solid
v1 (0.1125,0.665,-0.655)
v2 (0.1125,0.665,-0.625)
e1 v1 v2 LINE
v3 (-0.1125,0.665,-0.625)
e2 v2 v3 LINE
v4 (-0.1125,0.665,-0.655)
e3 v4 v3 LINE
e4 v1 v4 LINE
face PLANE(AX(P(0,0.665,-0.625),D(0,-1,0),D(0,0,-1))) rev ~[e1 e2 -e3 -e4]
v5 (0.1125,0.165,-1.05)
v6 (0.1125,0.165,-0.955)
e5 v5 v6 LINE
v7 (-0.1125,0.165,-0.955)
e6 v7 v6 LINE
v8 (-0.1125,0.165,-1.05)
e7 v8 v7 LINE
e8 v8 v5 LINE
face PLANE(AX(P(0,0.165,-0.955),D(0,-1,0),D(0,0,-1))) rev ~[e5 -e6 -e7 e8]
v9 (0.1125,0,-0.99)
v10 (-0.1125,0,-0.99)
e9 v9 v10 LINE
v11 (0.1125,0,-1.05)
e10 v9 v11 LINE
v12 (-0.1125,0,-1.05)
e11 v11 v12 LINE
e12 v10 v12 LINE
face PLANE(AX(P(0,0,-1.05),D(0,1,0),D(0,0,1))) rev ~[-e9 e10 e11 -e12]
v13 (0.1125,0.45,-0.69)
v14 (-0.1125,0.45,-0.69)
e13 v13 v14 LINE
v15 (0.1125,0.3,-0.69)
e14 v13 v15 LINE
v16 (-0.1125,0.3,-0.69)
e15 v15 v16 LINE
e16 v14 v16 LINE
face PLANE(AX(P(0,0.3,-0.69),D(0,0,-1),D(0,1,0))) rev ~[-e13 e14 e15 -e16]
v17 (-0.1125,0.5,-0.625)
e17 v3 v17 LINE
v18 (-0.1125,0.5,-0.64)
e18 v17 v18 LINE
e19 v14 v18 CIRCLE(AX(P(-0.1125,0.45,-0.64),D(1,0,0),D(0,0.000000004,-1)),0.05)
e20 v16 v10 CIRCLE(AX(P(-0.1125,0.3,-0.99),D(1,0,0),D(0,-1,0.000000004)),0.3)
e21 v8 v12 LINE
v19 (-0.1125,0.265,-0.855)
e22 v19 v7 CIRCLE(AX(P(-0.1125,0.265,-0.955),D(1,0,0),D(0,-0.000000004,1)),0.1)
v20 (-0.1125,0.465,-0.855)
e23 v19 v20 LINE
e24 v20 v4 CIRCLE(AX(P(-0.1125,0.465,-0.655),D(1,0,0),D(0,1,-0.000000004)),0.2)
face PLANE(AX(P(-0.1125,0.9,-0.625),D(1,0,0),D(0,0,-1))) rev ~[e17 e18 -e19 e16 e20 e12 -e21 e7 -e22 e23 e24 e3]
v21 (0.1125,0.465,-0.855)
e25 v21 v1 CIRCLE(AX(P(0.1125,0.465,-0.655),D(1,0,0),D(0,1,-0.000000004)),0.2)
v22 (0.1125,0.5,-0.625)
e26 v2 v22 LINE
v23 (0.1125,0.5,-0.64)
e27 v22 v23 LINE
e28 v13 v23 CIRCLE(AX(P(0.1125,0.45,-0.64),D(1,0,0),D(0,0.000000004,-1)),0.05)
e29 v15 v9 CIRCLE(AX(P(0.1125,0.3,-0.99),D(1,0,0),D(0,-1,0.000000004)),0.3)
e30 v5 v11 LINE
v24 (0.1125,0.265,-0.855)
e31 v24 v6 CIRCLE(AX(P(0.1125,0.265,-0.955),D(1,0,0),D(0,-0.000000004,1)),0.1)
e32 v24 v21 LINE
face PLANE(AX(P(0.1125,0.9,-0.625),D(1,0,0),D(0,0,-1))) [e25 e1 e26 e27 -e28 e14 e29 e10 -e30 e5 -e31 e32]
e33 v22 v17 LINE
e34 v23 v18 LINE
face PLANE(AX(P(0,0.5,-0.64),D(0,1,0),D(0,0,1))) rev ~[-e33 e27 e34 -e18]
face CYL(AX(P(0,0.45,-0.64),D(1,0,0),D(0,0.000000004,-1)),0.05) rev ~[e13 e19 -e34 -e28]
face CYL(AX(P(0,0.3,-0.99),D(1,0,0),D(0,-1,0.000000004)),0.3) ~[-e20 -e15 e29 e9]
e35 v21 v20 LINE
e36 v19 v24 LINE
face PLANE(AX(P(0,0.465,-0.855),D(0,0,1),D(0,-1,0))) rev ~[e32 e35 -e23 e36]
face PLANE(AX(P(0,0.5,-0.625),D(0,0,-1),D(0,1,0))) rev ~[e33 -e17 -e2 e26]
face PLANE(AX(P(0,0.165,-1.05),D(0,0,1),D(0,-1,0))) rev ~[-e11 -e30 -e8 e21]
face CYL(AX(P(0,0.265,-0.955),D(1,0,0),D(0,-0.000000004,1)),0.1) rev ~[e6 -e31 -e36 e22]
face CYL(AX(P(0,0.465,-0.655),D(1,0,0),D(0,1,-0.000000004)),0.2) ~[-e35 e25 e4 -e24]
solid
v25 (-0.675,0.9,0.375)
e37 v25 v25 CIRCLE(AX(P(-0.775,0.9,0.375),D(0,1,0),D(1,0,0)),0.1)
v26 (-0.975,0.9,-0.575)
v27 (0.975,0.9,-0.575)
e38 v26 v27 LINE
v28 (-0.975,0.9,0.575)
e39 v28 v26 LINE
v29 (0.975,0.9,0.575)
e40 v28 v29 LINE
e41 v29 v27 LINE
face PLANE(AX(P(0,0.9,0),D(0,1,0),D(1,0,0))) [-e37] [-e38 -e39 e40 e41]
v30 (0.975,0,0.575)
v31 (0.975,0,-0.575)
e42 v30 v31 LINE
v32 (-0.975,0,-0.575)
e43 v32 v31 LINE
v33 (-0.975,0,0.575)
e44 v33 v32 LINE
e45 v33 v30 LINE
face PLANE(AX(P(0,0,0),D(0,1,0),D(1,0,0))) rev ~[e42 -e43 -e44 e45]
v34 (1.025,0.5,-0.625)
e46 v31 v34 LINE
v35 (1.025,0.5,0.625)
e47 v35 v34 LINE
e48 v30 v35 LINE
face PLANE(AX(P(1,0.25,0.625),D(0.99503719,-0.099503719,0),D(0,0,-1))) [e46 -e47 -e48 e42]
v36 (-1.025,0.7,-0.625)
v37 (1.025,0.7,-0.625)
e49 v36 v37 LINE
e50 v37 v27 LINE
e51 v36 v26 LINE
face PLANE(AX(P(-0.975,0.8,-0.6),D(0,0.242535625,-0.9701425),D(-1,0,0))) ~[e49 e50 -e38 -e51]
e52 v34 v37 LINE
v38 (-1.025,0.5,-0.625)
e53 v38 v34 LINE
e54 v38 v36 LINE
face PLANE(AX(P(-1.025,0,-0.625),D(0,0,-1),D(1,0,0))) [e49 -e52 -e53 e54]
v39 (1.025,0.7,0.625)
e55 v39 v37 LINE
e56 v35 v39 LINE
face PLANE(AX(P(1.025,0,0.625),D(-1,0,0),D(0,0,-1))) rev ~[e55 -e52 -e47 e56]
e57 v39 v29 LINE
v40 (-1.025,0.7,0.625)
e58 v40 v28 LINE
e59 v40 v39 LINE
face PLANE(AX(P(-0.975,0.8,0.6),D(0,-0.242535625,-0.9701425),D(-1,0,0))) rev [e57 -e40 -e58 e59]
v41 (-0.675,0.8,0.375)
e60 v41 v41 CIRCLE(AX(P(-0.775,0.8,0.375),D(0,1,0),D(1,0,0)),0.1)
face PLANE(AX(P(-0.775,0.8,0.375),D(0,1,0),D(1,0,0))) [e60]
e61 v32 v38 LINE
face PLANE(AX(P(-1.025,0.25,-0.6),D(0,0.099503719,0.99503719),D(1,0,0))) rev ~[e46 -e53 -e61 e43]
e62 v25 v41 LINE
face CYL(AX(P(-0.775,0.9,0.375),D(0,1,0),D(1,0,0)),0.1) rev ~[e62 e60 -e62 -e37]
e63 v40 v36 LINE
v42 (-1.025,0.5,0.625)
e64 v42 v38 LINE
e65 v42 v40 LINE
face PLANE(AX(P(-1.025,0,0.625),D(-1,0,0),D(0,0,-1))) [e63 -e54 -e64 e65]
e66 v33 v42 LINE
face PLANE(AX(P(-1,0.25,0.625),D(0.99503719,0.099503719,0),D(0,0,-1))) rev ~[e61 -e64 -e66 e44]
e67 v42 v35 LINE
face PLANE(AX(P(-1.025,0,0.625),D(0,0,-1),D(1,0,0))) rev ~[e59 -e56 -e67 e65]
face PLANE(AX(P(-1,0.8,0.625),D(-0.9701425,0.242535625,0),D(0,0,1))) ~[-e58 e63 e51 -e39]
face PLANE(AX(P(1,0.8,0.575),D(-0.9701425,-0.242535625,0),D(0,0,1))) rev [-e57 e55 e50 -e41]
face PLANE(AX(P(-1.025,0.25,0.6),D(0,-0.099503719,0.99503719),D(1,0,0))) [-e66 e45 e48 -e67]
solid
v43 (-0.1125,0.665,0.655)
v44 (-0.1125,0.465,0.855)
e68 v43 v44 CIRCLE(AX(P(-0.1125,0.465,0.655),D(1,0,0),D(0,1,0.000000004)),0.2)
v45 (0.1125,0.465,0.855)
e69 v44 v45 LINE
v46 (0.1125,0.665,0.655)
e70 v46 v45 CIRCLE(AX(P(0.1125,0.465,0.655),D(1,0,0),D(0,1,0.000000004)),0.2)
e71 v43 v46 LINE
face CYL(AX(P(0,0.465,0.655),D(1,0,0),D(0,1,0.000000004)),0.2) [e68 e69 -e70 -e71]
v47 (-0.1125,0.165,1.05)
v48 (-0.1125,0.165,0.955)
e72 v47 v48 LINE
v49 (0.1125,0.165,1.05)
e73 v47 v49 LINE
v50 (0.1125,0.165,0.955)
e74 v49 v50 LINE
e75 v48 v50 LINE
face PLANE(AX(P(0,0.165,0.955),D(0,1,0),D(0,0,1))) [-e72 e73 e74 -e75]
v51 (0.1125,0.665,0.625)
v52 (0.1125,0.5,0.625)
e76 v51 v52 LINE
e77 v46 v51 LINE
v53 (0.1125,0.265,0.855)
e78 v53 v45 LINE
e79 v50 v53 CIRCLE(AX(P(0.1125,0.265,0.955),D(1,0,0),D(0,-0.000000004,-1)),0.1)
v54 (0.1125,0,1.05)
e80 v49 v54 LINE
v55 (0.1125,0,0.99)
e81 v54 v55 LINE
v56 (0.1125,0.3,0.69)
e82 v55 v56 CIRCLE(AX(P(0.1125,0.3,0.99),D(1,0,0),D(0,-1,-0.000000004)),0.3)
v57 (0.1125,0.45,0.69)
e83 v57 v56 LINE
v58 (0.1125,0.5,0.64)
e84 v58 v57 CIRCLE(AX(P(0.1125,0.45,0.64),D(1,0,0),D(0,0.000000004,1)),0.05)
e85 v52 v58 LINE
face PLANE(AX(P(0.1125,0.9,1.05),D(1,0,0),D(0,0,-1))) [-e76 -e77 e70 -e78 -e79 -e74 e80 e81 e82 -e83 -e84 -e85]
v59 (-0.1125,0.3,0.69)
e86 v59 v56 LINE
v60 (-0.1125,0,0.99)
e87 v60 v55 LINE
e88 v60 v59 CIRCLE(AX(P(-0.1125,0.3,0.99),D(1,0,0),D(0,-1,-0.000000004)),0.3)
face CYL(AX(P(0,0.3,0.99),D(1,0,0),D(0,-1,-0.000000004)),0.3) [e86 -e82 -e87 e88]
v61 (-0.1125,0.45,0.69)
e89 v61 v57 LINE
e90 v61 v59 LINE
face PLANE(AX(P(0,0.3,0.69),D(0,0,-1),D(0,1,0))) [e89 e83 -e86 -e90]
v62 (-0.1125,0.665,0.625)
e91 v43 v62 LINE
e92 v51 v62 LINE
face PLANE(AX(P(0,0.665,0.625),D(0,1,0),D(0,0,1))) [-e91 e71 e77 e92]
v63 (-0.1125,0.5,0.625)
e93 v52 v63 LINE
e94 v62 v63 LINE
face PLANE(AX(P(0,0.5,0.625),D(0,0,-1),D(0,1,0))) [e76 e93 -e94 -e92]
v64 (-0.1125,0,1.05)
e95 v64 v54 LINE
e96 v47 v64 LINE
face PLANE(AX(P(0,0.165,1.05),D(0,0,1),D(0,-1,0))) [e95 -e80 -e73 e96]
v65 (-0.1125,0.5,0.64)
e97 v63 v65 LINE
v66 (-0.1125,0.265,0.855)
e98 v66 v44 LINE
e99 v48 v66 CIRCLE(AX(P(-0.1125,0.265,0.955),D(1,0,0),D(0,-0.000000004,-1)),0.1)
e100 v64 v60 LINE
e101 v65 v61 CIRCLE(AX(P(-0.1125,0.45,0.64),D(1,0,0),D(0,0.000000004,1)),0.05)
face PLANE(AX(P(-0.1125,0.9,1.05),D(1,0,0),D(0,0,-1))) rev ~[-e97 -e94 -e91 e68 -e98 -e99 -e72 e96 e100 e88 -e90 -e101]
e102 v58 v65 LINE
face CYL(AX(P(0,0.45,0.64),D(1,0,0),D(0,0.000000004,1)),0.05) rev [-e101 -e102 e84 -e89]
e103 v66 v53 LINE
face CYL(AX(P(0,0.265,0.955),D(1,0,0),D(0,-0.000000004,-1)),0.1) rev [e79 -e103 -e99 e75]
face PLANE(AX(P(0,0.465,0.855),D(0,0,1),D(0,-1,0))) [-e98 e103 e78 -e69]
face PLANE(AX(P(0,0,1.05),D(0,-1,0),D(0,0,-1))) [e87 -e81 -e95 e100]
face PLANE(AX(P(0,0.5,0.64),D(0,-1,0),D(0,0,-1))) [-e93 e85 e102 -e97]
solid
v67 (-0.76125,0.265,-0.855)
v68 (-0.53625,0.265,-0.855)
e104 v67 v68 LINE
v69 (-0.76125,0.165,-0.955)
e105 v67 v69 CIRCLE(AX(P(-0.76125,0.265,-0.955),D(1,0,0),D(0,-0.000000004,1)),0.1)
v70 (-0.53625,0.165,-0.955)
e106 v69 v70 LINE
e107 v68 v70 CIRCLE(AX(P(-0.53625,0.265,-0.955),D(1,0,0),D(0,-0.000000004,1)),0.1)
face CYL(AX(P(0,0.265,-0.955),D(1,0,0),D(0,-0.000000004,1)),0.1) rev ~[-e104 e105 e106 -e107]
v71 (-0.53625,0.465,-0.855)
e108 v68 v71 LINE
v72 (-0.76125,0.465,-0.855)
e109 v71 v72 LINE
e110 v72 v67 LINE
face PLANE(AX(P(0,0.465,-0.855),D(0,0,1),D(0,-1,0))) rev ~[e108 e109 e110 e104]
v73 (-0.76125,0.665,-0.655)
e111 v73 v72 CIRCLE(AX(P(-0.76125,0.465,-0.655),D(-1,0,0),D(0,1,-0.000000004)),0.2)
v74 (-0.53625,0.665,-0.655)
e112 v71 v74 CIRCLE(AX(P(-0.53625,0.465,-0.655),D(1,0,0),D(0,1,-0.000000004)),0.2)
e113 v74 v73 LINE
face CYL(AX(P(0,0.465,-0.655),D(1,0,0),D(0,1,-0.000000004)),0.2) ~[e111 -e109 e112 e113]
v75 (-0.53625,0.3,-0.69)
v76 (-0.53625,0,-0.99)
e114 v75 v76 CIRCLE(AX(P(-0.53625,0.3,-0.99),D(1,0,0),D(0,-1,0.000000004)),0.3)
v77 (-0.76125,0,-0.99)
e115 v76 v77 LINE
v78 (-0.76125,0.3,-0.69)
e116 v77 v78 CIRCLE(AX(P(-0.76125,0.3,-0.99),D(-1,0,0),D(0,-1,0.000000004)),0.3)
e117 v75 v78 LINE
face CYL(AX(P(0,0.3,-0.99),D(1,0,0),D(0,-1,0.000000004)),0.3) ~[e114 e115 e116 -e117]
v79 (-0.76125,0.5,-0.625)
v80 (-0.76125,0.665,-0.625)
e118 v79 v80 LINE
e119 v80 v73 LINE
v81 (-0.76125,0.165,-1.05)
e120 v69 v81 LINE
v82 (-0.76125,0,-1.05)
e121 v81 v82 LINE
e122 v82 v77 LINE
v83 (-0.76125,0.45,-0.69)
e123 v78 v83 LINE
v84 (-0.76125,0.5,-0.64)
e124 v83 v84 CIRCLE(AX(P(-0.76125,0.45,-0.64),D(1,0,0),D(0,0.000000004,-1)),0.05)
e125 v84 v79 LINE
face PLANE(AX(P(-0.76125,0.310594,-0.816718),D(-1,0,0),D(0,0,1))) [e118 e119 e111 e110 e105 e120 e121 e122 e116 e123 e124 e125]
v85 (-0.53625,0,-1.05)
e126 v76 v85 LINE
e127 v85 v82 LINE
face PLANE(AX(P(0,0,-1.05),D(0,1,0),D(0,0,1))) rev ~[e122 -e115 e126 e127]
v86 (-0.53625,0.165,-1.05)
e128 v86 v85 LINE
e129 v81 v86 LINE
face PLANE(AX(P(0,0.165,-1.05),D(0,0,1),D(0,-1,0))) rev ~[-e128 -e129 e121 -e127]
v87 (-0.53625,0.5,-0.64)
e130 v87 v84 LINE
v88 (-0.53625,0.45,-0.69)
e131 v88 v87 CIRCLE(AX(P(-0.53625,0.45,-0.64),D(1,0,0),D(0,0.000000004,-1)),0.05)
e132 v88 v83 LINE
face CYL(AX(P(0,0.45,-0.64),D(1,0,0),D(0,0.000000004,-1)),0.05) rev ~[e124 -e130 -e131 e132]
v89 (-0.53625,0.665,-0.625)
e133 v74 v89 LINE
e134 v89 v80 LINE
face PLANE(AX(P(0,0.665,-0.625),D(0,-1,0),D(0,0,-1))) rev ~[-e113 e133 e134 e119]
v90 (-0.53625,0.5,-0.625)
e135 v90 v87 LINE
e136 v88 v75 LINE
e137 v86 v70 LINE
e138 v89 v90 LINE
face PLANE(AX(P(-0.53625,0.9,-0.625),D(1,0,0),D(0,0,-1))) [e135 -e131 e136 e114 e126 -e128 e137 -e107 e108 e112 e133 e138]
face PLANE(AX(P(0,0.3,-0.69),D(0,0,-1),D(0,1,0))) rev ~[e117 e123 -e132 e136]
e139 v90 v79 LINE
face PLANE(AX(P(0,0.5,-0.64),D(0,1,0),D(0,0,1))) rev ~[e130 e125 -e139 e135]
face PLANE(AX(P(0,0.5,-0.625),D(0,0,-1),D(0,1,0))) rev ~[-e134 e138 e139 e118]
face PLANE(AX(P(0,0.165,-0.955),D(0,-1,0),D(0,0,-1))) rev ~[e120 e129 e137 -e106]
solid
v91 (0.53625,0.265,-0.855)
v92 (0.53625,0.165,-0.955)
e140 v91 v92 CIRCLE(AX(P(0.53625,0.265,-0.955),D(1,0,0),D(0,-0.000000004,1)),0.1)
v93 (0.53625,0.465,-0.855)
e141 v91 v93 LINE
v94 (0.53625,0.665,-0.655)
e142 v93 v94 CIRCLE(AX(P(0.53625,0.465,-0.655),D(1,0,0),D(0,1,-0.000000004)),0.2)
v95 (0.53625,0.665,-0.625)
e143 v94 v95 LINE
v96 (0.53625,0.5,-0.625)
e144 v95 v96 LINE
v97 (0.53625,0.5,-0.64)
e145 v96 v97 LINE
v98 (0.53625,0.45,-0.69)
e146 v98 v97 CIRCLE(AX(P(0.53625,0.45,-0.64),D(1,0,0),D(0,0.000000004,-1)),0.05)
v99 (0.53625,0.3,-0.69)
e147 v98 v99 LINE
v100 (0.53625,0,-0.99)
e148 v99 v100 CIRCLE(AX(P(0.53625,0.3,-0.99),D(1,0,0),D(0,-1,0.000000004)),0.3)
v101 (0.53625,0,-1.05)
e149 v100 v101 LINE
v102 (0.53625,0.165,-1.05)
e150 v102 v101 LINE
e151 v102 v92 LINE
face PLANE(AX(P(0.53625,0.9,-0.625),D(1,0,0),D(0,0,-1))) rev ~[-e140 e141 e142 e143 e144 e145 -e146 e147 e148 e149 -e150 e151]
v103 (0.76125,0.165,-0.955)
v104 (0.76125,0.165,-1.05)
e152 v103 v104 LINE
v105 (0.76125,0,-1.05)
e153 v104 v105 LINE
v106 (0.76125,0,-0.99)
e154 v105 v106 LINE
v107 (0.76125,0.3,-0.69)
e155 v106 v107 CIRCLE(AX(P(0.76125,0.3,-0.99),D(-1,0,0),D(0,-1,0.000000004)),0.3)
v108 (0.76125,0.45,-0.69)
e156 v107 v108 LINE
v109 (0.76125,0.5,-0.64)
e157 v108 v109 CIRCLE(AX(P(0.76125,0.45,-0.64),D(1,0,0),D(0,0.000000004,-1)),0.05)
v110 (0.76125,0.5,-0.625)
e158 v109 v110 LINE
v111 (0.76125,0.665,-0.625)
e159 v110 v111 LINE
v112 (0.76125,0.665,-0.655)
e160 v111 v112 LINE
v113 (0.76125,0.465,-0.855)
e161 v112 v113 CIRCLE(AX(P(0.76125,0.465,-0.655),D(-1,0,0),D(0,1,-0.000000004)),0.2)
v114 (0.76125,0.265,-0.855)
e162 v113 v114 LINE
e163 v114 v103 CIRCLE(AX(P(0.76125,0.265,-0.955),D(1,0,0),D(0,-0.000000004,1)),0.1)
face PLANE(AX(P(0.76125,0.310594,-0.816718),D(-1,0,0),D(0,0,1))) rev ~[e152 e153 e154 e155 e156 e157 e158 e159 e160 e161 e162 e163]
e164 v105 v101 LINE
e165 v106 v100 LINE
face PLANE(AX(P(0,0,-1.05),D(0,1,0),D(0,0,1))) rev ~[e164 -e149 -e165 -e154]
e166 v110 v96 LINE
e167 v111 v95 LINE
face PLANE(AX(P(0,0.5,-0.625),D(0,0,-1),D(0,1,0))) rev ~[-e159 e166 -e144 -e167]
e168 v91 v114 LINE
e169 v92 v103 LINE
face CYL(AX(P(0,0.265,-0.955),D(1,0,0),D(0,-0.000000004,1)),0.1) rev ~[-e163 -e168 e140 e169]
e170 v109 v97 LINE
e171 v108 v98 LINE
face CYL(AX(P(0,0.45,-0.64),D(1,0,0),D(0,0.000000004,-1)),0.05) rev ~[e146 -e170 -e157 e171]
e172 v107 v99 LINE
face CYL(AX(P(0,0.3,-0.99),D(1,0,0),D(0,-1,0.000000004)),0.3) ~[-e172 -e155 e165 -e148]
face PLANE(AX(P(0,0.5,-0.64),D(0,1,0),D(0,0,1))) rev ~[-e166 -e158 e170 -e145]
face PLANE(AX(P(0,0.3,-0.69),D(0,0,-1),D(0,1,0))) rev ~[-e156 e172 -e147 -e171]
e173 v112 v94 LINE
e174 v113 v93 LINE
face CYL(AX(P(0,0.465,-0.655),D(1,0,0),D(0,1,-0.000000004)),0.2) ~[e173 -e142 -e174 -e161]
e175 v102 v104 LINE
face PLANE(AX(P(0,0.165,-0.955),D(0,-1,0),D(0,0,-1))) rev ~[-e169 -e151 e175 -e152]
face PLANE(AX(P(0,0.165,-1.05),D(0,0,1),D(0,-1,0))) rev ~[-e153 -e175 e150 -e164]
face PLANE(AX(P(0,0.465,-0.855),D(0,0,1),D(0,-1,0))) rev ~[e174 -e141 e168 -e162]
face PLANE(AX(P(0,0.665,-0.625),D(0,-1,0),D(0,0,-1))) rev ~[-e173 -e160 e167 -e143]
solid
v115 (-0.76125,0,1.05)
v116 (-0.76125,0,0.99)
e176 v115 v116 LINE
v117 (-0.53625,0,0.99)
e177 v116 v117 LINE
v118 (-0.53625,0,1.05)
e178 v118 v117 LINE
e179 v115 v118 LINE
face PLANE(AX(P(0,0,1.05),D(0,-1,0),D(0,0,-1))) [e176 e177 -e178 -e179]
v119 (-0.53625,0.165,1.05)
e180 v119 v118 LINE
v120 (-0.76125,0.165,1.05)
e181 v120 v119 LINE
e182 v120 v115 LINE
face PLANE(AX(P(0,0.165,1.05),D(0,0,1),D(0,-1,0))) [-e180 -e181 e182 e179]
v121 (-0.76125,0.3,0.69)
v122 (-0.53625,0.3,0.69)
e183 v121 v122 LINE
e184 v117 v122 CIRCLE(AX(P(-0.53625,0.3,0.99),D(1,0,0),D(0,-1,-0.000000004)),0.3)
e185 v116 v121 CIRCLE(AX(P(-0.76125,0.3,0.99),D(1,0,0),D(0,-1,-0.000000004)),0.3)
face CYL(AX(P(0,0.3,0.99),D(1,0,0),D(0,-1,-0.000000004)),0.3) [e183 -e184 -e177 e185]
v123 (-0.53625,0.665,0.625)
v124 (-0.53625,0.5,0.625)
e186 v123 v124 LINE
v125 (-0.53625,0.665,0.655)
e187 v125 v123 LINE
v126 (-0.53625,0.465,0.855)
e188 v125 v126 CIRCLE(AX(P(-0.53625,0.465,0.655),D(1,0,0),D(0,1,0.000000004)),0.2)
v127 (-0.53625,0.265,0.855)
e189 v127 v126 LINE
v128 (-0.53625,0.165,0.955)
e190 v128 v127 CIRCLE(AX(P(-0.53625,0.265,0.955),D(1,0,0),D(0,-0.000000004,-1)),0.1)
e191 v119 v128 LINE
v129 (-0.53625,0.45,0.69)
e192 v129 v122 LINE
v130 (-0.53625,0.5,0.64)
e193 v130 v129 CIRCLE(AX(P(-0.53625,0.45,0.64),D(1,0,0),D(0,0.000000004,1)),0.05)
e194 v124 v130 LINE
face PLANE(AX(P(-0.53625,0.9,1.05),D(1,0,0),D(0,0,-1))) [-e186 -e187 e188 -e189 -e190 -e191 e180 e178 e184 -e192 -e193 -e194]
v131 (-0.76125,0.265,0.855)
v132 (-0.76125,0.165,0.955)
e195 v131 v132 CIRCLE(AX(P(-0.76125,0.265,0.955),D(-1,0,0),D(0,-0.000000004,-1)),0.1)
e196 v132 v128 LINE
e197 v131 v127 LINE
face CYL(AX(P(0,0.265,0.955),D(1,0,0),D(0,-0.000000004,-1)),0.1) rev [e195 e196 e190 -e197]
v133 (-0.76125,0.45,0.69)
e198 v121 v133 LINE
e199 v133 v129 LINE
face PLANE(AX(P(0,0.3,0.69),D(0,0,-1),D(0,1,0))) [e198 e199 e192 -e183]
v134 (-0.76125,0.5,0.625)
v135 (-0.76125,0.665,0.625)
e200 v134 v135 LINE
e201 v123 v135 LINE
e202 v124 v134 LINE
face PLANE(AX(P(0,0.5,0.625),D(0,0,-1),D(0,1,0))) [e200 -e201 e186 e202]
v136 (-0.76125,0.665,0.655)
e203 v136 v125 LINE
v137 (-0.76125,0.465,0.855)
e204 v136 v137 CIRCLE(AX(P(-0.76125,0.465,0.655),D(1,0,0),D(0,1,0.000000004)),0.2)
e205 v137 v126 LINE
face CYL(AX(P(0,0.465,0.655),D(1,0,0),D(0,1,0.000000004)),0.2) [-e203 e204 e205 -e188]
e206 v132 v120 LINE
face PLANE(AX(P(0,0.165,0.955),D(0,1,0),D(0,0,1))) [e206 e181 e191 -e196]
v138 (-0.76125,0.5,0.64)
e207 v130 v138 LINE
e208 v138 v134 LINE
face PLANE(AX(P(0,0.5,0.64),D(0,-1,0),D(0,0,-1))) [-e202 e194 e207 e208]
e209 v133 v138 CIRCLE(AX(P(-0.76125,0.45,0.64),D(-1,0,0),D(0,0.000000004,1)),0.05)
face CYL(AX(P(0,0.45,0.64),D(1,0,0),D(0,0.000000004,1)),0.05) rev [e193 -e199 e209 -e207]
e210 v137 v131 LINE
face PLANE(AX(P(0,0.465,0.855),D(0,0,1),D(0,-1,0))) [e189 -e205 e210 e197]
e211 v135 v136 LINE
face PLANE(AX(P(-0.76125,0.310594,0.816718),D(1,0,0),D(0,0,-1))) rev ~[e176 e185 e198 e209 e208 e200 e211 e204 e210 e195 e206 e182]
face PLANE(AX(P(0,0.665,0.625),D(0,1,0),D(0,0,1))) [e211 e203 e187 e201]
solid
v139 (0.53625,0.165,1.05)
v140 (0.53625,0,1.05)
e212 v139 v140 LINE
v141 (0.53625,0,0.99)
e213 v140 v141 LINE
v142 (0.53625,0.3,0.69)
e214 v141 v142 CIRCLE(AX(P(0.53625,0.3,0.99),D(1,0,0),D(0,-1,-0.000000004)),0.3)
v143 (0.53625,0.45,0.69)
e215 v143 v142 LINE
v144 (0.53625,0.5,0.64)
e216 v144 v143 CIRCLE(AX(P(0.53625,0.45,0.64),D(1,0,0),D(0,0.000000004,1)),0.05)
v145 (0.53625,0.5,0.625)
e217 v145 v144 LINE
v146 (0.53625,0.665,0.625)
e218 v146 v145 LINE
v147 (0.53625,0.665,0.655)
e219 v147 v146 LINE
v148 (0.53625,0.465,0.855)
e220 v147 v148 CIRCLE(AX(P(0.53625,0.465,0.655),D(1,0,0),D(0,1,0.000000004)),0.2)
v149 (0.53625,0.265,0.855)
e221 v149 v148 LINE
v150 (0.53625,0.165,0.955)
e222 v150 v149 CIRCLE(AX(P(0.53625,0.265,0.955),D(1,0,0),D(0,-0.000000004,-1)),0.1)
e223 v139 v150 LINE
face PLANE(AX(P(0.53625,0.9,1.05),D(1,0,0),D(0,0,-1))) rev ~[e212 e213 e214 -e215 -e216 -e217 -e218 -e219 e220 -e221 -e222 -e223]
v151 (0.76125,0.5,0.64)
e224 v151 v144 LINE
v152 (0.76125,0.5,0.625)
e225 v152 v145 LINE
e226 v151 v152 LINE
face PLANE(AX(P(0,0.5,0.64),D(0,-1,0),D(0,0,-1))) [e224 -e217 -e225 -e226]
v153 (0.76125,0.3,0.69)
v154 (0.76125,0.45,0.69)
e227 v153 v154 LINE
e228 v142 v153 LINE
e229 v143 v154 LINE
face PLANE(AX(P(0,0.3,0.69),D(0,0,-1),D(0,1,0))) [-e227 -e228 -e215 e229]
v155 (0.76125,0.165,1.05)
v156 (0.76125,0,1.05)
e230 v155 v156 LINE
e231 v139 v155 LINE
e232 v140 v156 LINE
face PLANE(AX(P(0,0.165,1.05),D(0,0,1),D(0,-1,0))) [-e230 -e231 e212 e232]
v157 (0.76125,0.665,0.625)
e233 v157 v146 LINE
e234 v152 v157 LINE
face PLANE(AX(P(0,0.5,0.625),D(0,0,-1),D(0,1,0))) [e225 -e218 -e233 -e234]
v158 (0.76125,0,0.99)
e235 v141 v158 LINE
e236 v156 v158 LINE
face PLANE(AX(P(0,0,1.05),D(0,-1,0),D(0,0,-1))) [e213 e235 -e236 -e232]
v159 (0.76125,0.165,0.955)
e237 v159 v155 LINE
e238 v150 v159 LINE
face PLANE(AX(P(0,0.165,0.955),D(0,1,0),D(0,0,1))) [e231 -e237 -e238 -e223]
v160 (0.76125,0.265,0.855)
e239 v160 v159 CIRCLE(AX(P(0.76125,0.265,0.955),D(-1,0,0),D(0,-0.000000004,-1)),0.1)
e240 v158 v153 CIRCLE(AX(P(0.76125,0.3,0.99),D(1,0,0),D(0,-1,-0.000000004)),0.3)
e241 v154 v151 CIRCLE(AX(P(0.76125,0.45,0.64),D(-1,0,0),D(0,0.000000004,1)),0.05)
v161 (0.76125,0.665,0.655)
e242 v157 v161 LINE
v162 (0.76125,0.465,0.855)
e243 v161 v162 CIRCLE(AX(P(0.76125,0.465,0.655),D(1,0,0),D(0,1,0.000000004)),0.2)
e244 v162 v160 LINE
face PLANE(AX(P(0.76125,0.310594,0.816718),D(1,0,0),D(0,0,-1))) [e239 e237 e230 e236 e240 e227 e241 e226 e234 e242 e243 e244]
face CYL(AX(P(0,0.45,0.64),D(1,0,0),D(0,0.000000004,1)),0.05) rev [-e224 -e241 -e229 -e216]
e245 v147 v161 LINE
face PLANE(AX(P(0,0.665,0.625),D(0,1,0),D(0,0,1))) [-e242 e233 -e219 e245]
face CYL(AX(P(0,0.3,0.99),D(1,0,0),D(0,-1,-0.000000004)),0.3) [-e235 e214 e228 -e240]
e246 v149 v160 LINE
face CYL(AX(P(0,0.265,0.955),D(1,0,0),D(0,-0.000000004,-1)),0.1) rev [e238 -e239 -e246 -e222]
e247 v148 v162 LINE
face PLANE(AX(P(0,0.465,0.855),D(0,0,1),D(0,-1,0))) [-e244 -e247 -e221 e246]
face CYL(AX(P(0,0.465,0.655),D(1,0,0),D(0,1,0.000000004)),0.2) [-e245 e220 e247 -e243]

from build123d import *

# Parameters (mm, degrees)
SKETCH1_W             = 2.05
SKETCH1_H             = 1.25
BOSS_EXTRUDE1_DEPTH   = 0.9
BOSS_EXTRUDE2_START   = -1.025
BOSS_EXTRUDE2_DEPTH   = 0.76125
BOSS_EXTRUDE2_2_DEPTH = 0.76125
SKETCH3_W             = 0.42375
SKETCH3_H             = 0.425
CUT_EXTRUDE2_DEPTH    = 0.9
CHAMFER1_SIZE         = 0.05
CHAMFER1_SIZE2        = 0.5
CHAMFER2_SIZE         = 0.2
CHAMFER2_SIZE2        = 0.05
CHAMFER2_PART_2_SIZE  = 0.2
CHAMFER2_PART_2_SIZE2 = 0.05
CHAMFER2_PART_3_SIZE  = 0.2
CHAMFER2_PART_3_SIZE2 = 0.05
CHAMFER2_PART_4_SIZE  = 0.2
CHAMFER2_PART_4_SIZE2 = 0.05
SKETCH4_R             = 0.1
CUT_EXTRUDE3_DEPTH    = 0.1


with BuildPart() as part:
    # Sketch1 → Boss-Extrude1 (new body)
    with BuildSketch(Plane(origin=(0, 0, 0), x_dir=(1, 0, 0), z_dir=(0, 1, 0))):
        Rectangle(SKETCH1_W, SKETCH1_H)
    extrude(amount=BOSS_EXTRUDE1_DEPTH)

    # Chamfer1
    chamfer1_edges = [part.edges().sort_by_distance(p)[0] for p in [
        (0, 0, 0.625),
        (-1.025, 0, 0),
        (0, 0, -0.625),
        (1.025, 0, 0),
    ]]
    chamfer1_side = [part.faces().sort_by_distance(p)[0] for p in [
        (0, 0, 0),
    ]]
    chamfer(chamfer1_edges, length=CHAMFER1_SIZE, length2=CHAMFER1_SIZE2, reference=chamfer1_side[0])

    # Chamfer2
    chamfer2_edges = [part.edges().sort_by_distance(p)[0] for p in [
        (-1.025, 0.9, 0),
    ]]
    chamfer2_side = [part.faces().sort_by_distance(p)[0] for p in [
        (-1.025, 0.7, 0),
    ]]
    chamfer(chamfer2_edges, length=CHAMFER2_SIZE, length2=CHAMFER2_SIZE2, reference=chamfer2_side[0])

    # Chamfer2 part 2
    chamfer2_part_2_edges = [part.edges().sort_by_distance(p)[0] for p in [
        (0, 0.9, 0.625),
    ]]
    chamfer2_part_2_side = [part.faces().sort_by_distance(p)[0] for p in [
        (0, 0.7, 0.625),
    ]]
    chamfer(chamfer2_part_2_edges, length=CHAMFER2_PART_2_SIZE, length2=CHAMFER2_PART_2_SIZE2, reference=chamfer2_part_2_side[0])

    # Chamfer2 part 3
    chamfer2_part_3_edges = [part.edges().sort_by_distance(p)[0] for p in [
        (1.025, 0.9, 0),
    ]]
    chamfer2_part_3_side = [part.faces().sort_by_distance(p)[0] for p in [
        (1.025, 0.7, 0),
    ]]
    chamfer(chamfer2_part_3_edges, length=CHAMFER2_PART_3_SIZE, length2=CHAMFER2_PART_3_SIZE2, reference=chamfer2_part_3_side[0])

    # Chamfer2 part 4
    chamfer2_part_4_edges = [part.edges().sort_by_distance(p)[0] for p in [
        (0, 0.9, -0.625),
    ]]
    chamfer2_part_4_side = [part.faces().sort_by_distance(p)[0] for p in [
        (0, 0.7, -0.625),
    ]]
    chamfer(chamfer2_part_4_edges, length=CHAMFER2_PART_4_SIZE, length2=CHAMFER2_PART_4_SIZE2, reference=chamfer2_part_4_side[0])

    # Sketch4 → Cut-Extrude3 (cut)
    with BuildSketch(Plane(origin=(0, 0.9, 0), x_dir=(1, 0, 0), z_dir=(0, 1, 0))):
        with Locations((-0.775, -0.375)):
            Circle(SKETCH4_R)
    extrude(amount=-CUT_EXTRUDE3_DEPTH, mode=Mode.SUBTRACT)


with BuildPart() as body_2:
    # Sketch2 → Boss-Extrude2 (new body, symmetric)
    with BuildSketch(Plane(origin=(1.025, 0, 0), x_dir=(0, 0, -1), z_dir=(1, 0, 0)).offset(BOSS_EXTRUDE2_START)):
        with BuildLine():
            Line((-0.625, 0.665), (-0.655, 0.665))
            ThreePointArc((-0.655, 0.665), (-0.796421356, 0.606421356), (-0.855, 0.465))
            Line((-0.855, 0.465), (-0.855, 0.265))
            ThreePointArc((-0.855, 0.265), (-0.884289322, 0.194289322), (-0.955, 0.165))
            Line((-0.955, 0.165), (-1.05, 0.165))
            Line((-1.05, 0.165), (-1.05, 0))
            Line((-1.05, 0), (-0.99, 0))
            ThreePointArc((-0.99, 0), (-0.777867966, 0.087867966), (-0.69, 0.3))
            Line((-0.69, 0.3), (-0.69, 0.45))
            ThreePointArc((-0.69, 0.45), (-0.675355339, 0.485355339), (-0.64, 0.5))
            Line((-0.64, 0.5), (-0.625, 0.5))
            Line((-0.625, 0.5), (-0.625, 0.665))
        make_face()
    extrude(amount=BOSS_EXTRUDE2_DEPTH, both=True)


with BuildPart() as body_3:
    # Sketch2 → Boss-Extrude2 2 (new body, symmetric)
    with BuildSketch(Plane(origin=(1.025, 0, 0), x_dir=(0, 0, -1), z_dir=(1, 0, 0)).offset(BOSS_EXTRUDE2_START)):
        with BuildLine():
            Line((1.05, 0.165), (1.05, 0))
            Line((1.05, 0), (0.99, 0))
            ThreePointArc((0.99, 0), (0.777867966, 0.087867966), (0.69, 0.3))
            Line((0.69, 0.3), (0.69, 0.45))
            ThreePointArc((0.69, 0.45), (0.675355339, 0.485355339), (0.64, 0.5))
            Line((0.64, 0.5), (0.625, 0.5))
            Line((0.625, 0.5), (0.625, 0.665))
            Line((0.625, 0.665), (0.655, 0.665))
            ThreePointArc((0.655, 0.665), (0.796421356, 0.606421356), (0.855, 0.465))
            Line((0.855, 0.465), (0.855, 0.265))
            ThreePointArc((0.855, 0.265), (0.884289322, 0.194289322), (0.955, 0.165))
            Line((0.955, 0.165), (1.05, 0.165))
        make_face()
    extrude(amount=BOSS_EXTRUDE2_2_DEPTH, both=True)


with BuildPart() as cut_extrude2_tool:
    # Sketch3 → Cut-Extrude2 (new body)
    with BuildSketch(Plane(origin=(0, 0.9, 0), x_dir=(1, 0, 0), z_dir=(0, 1, 0))):
        with Locations((-0.324375, 0.8375)):
            Rectangle(SKETCH3_W, SKETCH3_H)
        with Locations((0.324375, 0.8375)):
            Rectangle(SKETCH3_W, SKETCH3_H)
        with Locations((0.324375, -0.8375)):
            Rectangle(SKETCH3_W, SKETCH3_H)
        with Locations((-0.324375, -0.8375)):
            Rectangle(SKETCH3_W, SKETCH3_H)
    extrude(amount=-CUT_EXTRUDE2_DEPTH)


with BuildPart() as body_2_1:
    add(body_2.part)

    # Cut-Extrude2: cut by cut_extrude2_tool
    add(cut_extrude2_tool.part, mode=Mode.SUBTRACT)


with BuildPart() as body_3_1:
    add(body_3.part)

    # Cut-Extrude2: cut by cut_extrude2_tool
    add(cut_extrude2_tool.part, mode=Mode.SUBTRACT)


solid = Compound([part.part, body_2_1.part, body_3_1.part])
